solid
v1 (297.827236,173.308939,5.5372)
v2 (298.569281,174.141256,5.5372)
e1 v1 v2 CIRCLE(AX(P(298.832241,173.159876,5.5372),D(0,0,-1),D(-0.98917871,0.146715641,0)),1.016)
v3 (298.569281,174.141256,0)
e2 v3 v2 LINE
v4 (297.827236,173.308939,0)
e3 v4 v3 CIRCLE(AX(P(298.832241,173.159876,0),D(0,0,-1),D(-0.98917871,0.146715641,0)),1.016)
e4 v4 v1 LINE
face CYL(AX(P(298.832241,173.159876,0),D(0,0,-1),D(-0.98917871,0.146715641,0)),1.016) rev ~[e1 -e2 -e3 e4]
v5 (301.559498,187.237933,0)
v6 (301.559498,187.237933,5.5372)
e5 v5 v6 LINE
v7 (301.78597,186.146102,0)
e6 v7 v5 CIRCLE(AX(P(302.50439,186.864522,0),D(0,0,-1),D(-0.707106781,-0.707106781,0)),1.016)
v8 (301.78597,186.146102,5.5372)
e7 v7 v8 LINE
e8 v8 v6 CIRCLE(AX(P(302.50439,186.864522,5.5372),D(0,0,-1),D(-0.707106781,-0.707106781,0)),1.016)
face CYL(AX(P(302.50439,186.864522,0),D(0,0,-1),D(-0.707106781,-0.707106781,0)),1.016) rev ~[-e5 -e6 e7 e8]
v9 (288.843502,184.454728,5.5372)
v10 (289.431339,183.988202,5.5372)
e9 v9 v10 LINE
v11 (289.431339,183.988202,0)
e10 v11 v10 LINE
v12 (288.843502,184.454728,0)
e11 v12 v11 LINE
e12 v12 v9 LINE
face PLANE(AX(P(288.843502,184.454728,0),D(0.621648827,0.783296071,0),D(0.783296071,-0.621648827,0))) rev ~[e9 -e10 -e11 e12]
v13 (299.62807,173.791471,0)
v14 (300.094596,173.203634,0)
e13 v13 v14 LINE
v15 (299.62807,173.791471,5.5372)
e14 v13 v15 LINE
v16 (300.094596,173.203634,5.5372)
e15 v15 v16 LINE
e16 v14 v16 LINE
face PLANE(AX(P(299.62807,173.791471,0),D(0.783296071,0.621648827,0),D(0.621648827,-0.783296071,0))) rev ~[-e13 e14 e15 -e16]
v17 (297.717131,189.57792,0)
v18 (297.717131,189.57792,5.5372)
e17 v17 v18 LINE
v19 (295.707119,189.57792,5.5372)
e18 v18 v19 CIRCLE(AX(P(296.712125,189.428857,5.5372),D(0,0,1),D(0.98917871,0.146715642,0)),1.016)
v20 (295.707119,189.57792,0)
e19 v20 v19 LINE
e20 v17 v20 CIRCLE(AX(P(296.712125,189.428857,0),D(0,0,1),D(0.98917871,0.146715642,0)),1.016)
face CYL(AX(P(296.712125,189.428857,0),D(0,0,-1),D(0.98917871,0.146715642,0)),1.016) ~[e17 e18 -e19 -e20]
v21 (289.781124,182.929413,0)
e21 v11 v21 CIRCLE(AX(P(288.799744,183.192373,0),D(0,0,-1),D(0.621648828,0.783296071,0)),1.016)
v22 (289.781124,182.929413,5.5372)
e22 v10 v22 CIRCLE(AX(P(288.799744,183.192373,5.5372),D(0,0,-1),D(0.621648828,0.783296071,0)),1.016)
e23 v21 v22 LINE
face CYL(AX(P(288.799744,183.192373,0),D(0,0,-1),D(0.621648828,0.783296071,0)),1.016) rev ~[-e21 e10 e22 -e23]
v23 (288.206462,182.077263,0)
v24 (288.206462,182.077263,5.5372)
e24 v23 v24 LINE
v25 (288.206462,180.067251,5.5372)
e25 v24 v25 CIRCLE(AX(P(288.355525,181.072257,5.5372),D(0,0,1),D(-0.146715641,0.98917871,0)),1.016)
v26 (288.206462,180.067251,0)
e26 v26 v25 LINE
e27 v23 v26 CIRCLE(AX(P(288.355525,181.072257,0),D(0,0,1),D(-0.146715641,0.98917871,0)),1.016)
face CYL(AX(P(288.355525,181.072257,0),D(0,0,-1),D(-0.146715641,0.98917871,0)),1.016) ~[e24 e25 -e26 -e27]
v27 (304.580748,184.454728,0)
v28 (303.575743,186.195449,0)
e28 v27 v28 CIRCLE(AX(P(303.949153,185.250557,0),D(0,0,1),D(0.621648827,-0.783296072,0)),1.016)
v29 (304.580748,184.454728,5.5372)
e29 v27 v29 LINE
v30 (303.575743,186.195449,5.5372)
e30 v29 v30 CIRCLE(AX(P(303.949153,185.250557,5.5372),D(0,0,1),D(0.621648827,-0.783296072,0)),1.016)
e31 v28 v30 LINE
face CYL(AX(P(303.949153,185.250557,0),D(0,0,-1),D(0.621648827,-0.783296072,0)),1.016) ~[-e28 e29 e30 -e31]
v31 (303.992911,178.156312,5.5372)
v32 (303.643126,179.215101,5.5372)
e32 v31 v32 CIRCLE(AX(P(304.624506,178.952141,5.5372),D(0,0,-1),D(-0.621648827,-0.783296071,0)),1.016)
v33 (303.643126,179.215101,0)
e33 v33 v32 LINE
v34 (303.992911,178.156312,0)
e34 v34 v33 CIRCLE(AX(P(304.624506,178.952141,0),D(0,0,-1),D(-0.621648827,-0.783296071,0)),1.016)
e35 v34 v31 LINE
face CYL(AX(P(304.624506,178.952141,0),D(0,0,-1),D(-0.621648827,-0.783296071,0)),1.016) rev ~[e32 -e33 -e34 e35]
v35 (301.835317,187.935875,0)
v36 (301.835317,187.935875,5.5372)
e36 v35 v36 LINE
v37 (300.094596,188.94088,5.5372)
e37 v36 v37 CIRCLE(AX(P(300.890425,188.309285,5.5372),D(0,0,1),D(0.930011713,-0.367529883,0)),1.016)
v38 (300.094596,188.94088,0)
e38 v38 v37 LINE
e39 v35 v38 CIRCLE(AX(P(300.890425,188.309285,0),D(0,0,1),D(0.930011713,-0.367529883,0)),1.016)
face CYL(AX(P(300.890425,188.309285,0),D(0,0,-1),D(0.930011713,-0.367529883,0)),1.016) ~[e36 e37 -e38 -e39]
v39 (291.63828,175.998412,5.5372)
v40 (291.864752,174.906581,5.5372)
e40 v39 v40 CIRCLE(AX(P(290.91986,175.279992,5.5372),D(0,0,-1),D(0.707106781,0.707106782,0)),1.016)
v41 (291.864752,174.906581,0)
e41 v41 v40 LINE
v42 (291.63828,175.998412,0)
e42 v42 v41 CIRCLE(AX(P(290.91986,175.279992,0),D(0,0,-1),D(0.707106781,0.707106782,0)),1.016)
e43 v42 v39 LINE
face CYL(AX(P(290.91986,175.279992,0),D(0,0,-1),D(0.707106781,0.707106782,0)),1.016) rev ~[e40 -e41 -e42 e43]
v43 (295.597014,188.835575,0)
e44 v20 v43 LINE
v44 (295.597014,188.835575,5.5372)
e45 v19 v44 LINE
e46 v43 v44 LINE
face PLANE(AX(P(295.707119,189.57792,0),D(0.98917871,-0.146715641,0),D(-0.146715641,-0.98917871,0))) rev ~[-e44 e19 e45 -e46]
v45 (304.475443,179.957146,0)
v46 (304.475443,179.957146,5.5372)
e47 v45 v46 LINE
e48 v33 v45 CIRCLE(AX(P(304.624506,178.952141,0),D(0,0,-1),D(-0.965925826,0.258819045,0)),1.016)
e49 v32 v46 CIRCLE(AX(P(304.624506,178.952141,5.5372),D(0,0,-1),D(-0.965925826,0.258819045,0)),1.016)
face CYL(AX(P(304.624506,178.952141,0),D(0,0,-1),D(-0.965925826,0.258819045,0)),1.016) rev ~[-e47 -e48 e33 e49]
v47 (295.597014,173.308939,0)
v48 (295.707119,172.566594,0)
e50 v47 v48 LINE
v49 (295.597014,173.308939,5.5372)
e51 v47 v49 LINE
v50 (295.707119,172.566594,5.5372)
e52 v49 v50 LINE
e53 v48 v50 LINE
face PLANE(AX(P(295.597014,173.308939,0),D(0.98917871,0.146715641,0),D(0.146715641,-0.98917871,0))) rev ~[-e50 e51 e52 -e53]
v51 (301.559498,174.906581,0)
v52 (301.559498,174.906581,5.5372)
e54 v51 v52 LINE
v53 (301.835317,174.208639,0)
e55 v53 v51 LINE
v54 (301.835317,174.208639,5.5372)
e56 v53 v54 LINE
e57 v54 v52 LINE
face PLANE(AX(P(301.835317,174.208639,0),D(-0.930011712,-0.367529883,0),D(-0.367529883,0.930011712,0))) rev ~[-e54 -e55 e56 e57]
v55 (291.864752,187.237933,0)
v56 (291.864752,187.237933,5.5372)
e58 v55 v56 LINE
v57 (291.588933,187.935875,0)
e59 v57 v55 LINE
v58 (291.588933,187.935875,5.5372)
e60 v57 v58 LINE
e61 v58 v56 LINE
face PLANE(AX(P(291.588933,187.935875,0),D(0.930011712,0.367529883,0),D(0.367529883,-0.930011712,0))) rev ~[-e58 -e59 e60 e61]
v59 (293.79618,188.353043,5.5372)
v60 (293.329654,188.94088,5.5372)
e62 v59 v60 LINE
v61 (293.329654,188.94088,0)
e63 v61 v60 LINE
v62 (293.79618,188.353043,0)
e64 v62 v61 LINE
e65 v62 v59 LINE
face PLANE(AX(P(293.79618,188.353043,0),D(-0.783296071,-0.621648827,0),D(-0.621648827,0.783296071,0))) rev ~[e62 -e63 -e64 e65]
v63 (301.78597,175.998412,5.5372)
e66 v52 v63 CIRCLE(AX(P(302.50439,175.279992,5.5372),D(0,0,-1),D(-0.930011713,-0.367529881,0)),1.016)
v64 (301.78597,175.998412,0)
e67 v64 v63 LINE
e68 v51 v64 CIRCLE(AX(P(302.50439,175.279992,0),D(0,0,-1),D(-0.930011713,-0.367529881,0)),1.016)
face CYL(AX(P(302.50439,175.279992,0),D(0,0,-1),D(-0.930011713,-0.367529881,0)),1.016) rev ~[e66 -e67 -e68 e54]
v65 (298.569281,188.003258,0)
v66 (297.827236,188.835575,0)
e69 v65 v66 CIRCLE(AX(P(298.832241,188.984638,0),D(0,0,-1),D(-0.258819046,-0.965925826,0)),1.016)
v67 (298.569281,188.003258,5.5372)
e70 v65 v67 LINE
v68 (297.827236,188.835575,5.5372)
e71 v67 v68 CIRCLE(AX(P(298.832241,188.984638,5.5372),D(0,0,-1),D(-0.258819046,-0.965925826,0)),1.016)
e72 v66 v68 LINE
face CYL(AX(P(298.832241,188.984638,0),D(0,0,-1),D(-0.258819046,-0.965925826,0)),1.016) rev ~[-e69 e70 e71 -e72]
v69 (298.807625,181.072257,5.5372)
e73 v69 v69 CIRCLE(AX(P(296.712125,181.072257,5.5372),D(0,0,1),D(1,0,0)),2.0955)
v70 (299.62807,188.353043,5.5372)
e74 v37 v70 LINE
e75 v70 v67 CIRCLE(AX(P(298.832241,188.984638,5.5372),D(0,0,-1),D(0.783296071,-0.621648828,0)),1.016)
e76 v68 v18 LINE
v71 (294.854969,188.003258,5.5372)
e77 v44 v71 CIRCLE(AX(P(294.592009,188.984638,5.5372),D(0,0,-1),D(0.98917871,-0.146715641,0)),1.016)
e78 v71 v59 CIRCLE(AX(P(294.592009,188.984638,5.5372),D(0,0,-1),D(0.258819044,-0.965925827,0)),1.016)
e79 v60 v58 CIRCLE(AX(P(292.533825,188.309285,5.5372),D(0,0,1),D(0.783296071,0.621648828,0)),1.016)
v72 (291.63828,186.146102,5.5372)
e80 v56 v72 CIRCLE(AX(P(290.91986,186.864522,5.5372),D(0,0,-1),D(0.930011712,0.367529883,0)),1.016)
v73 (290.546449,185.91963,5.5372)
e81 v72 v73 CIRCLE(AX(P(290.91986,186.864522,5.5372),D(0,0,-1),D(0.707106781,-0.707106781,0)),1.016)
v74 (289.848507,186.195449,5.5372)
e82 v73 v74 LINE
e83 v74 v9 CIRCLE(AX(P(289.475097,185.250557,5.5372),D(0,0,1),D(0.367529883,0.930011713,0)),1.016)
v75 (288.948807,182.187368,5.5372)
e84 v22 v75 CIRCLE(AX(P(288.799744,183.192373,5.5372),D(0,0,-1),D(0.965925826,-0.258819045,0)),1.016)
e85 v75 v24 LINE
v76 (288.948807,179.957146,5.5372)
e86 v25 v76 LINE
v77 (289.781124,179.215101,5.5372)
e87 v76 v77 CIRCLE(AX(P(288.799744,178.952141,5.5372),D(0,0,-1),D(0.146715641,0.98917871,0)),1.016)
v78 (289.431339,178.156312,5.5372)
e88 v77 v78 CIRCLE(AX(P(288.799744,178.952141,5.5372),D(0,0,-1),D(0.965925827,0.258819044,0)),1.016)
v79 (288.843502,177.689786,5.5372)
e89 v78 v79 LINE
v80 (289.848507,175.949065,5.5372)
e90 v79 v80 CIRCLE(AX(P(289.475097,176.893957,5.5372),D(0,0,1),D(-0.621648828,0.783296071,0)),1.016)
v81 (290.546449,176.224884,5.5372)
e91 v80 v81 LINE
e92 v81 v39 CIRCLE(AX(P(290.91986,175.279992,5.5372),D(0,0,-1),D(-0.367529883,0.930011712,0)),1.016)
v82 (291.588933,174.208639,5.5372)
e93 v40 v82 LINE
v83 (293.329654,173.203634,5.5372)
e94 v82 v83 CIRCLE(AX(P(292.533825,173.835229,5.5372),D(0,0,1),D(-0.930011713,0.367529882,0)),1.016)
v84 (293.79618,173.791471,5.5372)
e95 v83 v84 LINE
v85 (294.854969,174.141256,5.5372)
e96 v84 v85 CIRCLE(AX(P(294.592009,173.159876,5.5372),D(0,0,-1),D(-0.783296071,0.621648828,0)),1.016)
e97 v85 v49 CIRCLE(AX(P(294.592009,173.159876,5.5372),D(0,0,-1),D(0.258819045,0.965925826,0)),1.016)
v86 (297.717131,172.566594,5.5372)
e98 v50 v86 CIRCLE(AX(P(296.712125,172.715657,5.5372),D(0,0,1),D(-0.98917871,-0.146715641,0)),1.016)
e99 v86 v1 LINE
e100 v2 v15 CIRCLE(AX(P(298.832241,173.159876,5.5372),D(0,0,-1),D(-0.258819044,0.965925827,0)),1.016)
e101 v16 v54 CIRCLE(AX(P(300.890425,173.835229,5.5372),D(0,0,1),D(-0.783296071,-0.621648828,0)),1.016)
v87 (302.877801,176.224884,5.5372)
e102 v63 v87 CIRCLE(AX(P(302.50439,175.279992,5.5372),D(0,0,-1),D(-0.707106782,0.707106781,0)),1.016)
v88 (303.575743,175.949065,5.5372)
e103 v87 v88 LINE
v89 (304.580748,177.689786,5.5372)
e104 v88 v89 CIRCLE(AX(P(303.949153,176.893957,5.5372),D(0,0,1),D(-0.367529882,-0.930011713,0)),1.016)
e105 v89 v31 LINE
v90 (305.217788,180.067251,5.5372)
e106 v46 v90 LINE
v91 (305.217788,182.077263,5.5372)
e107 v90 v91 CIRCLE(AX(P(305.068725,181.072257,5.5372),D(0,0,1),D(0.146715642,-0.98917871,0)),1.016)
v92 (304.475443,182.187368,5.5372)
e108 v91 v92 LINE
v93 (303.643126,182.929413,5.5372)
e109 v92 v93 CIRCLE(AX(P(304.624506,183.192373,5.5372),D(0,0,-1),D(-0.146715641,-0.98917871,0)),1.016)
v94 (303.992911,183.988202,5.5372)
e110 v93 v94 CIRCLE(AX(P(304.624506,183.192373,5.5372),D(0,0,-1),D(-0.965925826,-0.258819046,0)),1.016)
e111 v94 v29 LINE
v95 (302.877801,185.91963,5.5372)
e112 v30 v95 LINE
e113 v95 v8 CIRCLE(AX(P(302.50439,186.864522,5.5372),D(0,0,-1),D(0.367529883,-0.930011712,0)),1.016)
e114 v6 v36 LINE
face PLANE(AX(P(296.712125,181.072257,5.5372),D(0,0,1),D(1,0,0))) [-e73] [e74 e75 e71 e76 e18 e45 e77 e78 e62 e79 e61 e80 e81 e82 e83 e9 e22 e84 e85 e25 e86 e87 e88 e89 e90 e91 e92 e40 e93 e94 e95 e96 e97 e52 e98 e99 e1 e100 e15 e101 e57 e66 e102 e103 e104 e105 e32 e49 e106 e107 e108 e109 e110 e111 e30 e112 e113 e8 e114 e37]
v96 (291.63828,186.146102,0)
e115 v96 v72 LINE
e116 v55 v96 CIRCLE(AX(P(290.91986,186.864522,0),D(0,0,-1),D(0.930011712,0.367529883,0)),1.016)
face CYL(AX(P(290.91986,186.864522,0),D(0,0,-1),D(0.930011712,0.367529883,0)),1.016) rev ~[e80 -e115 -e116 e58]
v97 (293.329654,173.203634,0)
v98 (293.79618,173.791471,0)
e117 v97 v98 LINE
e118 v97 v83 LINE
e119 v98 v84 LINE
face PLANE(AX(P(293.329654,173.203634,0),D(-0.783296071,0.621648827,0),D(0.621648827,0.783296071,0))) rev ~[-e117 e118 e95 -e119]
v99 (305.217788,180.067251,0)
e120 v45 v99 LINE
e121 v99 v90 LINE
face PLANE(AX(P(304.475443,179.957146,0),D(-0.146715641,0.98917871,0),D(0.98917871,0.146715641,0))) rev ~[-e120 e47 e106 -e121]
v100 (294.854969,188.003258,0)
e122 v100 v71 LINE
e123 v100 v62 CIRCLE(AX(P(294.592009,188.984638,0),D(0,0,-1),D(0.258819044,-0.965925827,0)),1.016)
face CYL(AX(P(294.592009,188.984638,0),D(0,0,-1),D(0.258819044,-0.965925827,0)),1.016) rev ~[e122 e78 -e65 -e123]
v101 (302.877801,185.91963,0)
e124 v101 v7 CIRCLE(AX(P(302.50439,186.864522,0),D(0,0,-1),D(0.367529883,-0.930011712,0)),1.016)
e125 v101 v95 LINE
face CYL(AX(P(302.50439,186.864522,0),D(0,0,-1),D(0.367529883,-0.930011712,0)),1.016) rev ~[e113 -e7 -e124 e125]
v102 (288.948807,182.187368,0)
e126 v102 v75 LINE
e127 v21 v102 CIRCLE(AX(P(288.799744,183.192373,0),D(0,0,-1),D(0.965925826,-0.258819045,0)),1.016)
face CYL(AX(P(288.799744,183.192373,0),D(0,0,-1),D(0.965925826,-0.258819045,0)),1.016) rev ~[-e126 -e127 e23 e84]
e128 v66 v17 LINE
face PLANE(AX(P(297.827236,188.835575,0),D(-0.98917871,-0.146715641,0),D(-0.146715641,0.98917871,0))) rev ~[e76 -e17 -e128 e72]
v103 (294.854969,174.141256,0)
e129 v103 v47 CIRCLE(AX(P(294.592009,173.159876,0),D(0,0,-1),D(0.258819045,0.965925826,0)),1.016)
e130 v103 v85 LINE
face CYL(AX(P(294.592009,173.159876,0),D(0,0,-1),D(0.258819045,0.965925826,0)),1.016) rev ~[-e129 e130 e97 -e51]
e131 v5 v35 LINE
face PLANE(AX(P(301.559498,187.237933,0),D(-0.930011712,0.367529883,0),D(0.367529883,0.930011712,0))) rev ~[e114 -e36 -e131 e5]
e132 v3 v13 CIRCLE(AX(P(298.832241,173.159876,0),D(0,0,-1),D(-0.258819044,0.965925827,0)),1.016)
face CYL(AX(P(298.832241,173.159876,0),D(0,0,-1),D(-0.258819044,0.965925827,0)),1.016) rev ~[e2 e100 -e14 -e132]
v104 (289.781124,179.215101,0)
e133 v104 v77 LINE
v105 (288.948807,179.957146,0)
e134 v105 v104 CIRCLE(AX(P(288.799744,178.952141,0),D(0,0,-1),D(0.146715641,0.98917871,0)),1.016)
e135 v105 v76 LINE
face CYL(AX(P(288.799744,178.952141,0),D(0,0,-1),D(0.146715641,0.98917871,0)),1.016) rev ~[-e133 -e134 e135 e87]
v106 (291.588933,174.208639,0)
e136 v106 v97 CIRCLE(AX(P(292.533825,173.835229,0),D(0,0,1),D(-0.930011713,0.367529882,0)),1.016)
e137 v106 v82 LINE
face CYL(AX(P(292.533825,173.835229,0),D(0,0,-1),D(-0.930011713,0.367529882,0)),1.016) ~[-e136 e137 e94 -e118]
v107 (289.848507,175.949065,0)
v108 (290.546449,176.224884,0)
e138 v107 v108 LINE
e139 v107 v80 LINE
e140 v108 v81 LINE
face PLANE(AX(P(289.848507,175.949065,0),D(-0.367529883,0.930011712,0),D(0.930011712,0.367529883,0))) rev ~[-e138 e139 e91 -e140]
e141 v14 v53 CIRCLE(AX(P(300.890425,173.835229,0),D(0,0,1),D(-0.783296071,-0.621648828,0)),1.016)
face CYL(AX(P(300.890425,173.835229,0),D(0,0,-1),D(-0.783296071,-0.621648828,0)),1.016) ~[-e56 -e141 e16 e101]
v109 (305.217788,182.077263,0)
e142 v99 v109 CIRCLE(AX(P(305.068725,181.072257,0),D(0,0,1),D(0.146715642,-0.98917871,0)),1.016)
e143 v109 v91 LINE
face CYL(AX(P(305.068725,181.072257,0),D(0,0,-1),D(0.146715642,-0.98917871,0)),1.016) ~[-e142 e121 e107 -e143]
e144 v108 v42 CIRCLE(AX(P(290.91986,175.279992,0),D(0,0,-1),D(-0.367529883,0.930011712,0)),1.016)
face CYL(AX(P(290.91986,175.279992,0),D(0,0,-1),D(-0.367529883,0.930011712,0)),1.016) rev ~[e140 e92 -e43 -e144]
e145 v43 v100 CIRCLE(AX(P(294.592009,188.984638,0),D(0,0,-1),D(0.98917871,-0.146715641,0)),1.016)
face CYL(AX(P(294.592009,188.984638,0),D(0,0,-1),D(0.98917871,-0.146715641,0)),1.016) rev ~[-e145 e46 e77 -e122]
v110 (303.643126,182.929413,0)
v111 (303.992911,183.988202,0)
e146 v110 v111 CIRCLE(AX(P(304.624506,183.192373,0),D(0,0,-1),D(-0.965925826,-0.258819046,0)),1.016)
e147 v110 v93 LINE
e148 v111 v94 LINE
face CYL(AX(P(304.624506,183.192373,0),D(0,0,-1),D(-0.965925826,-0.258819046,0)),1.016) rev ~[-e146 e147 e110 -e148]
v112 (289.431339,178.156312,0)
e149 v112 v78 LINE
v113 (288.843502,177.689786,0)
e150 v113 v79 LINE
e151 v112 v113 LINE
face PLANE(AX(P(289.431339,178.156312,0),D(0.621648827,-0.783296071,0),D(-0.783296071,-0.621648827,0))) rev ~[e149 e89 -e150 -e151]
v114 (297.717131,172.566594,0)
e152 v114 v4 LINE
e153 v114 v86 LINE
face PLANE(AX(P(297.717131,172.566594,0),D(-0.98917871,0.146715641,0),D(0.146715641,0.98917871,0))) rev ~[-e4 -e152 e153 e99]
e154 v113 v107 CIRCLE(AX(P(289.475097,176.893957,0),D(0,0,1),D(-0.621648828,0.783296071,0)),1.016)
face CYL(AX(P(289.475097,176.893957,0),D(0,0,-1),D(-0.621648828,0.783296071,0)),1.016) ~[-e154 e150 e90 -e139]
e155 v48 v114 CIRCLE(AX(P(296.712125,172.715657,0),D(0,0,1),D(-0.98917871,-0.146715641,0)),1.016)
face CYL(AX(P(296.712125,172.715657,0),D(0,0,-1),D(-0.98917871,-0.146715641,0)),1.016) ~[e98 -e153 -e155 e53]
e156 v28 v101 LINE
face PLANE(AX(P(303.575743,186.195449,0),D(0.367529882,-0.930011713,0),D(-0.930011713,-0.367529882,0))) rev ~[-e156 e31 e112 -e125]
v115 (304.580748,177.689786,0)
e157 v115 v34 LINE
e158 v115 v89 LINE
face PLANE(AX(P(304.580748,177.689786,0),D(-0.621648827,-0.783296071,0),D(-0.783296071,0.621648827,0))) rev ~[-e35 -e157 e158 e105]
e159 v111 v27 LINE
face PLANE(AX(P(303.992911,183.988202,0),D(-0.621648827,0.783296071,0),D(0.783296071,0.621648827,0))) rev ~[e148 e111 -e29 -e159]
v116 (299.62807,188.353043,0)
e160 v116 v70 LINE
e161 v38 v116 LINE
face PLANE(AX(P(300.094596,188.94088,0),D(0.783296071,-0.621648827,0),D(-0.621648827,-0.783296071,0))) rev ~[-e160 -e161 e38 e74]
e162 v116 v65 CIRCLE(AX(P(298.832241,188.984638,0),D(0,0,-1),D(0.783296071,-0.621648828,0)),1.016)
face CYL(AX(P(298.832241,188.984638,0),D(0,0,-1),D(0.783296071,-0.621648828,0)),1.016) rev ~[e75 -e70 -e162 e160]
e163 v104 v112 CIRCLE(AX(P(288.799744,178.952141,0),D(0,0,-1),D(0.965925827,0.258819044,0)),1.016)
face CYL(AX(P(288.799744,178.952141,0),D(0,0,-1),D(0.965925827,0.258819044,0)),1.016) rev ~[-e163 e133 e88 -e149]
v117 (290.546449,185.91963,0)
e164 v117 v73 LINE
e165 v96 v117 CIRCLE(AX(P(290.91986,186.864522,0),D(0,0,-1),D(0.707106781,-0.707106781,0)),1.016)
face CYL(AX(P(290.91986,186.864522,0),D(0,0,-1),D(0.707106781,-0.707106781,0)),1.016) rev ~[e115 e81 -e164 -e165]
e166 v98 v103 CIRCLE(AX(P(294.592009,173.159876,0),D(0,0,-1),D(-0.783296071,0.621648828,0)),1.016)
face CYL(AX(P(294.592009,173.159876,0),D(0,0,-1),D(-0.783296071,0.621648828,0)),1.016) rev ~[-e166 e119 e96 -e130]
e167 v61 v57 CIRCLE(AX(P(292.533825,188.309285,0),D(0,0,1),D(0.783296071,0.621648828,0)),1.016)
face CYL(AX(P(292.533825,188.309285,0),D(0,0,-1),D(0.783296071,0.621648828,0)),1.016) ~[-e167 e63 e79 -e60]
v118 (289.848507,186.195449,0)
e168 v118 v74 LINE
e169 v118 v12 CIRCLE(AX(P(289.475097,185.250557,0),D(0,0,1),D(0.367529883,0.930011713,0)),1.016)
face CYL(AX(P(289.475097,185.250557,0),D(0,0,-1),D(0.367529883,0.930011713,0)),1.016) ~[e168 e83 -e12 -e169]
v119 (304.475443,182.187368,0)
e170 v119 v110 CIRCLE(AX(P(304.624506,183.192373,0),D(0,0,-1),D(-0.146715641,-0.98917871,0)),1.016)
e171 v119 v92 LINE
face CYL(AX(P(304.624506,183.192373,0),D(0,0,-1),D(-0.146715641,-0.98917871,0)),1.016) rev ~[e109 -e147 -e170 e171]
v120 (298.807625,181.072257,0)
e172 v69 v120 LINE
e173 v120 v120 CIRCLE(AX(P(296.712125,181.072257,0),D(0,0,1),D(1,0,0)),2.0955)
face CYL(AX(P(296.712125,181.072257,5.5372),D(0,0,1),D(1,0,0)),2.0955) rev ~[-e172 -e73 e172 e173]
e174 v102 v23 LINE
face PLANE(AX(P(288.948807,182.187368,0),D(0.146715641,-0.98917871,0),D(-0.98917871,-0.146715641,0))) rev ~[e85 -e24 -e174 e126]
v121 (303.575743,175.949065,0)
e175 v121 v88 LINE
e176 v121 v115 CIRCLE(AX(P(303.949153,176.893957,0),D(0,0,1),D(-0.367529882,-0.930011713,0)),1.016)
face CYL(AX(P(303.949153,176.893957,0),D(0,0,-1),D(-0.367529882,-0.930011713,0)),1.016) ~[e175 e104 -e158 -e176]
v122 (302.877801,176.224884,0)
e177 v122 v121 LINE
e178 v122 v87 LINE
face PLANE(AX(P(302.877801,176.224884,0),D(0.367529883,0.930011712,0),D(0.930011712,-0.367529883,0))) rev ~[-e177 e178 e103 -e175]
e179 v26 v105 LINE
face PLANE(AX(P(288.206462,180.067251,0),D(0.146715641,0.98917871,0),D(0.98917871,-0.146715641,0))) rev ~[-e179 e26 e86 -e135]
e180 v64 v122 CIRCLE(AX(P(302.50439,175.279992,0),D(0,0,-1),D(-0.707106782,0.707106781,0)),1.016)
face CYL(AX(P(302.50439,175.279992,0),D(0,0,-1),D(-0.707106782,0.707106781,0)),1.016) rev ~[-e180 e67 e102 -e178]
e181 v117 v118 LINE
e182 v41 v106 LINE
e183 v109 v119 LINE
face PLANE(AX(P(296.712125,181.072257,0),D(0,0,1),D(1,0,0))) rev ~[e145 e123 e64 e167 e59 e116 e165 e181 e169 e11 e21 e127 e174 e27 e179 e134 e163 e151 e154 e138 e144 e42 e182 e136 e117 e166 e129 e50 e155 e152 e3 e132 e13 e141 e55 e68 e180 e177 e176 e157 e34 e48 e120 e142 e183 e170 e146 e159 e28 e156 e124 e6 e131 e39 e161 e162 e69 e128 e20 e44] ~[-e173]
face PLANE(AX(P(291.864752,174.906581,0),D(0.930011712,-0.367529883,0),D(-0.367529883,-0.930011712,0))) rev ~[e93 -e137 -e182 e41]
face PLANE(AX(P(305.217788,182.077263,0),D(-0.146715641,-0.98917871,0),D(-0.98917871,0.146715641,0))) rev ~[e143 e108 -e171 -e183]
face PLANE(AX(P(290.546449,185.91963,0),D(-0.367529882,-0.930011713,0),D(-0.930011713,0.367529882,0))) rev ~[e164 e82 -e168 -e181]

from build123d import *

# Parameters (mm, degrees)
BOSS_EXTRUDE1_DEPTH = 5.5372
SKETCH3_R           = 2.0955
CUT_EXTRUDE1_DEPTH  = 361.538157474


with BuildPart() as part:
    # Sketch2 → Boss-Extrude1 (new body)
    with BuildSketch(Plane.XY):
        with BuildLine():
            Line((300.094596165, 188.940880076), (299.62806999, 188.353043175))
            ThreePointArc((299.62806999, 188.353043175), (299.150949063, 188.019920142), (298.569281031, 188.003257744))
            ThreePointArc((298.569281031, 188.003257744), (298.073872939, 188.308521819), (297.827235612, 188.835575292))
            Line((297.827235612, 188.835575292), (297.717130543, 189.577920069))
            ThreePointArc((297.717130543, 189.577920069), (296.712124973, 190.444856977), (295.707119404, 189.577920069))
            Line((295.707119404, 189.577920069), (295.597014335, 188.835575292))
            ThreePointArc((295.597014335, 188.835575292), (295.350377008, 188.308521819), (294.854968915, 188.003257744))
            ThreePointArc((294.854968915, 188.003257744), (294.273300884, 188.019920142), (293.796179957, 188.353043175))
            Line((293.796179957, 188.353043175), (293.329653782, 188.940880076))
            ThreePointArc((293.329653782, 188.940880076), (292.025824973, 189.189166677), (291.588933073, 187.935874506))
            Line((291.588933073, 187.935874506), (291.864751675, 187.237932536))
            ThreePointArc((291.864751675, 187.237932536), (291.914684221, 186.658172176), (291.638280265, 186.146101686))
            ThreePointArc((291.638280265, 186.146101686), (291.126209774, 185.86969773), (290.546449415, 185.919630276))
            Line((290.546449415, 185.919630276), (289.848507445, 186.195448877))
            ThreePointArc((289.848507445, 186.195448877), (288.595215274, 185.758556977), (288.843501875, 184.454728169))
            Line((288.843501875, 184.454728169), (289.431338776, 183.988201994))
            ThreePointArc((289.431338776, 183.988201994), (289.764461809, 183.511081067), (289.781124207, 182.929413036))
            ThreePointArc((289.781124207, 182.929413036), (289.475860132, 182.434004943), (288.948806659, 182.187367616))
            Line((288.948806659, 182.187367616), (288.206461882, 182.077262547))
            ThreePointArc((288.206461882, 182.077262547), (287.339524973, 181.072256977), (288.206461882, 180.067251408))
            Line((288.206461882, 180.067251408), (288.948806659, 179.957146339))
            ThreePointArc((288.948806659, 179.957146339), (289.475860132, 179.710509012), (289.781124207, 179.215100919))
            ThreePointArc((289.781124207, 179.215100919), (289.764461809, 178.633432888), (289.431338776, 178.156311961))
            Line((289.431338776, 178.156311961), (288.843501875, 177.689785786))
            ThreePointArc((288.843501875, 177.689785786), (288.595215274, 176.385956977), (289.848507445, 175.949065077))
            Line((289.848507445, 175.949065077), (290.546449415, 176.224883679))
            ThreePointArc((290.546449415, 176.224883679), (291.126209774, 176.274816225), (291.638280265, 175.998412269))
            ThreePointArc((291.638280265, 175.998412269), (291.914684221, 175.486341779), (291.864751675, 174.906581419))
            Line((291.864751675, 174.906581419), (291.588933073, 174.208639449))
            ThreePointArc((291.588933073, 174.208639449), (292.025824973, 172.955347278), (293.329653782, 173.203633879))
            Line((293.329653782, 173.203633879), (293.796179957, 173.79147078))
            ThreePointArc((293.796179957, 173.79147078), (294.273300884, 174.124593813), (294.854968915, 174.141256211))
            ThreePointArc((294.854968915, 174.141256211), (295.350377008, 173.835992136), (295.597014335, 173.308938663))
            Line((295.597014335, 173.308938663), (295.707119404, 172.566593886))
            ThreePointArc((295.707119404, 172.566593886), (296.712124973, 171.699656977), (297.717130543, 172.566593886))
            Line((297.717130543, 172.566593886), (297.827235612, 173.308938663))
            ThreePointArc((297.827235612, 173.308938663), (298.073872939, 173.835992136), (298.569281031, 174.141256211))
            ThreePointArc((298.569281031, 174.141256211), (299.150949063, 174.124593813), (299.62806999, 173.79147078))
            Line((299.62806999, 173.79147078), (300.094596165, 173.203633879))
            ThreePointArc((300.094596165, 173.203633879), (301.398424973, 172.955347278), (301.835316873, 174.208639449))
            Line((301.835316873, 174.208639449), (301.559498271, 174.906581419))
            ThreePointArc((301.559498271, 174.906581419), (301.509565726, 175.486341779), (301.785969682, 175.998412269))
            ThreePointArc((301.785969682, 175.998412269), (302.298040172, 176.274816225), (302.877800532, 176.224883679))
            Line((302.877800532, 176.224883679), (303.575742502, 175.949065077))
            ThreePointArc((303.575742502, 175.949065077), (304.829034673, 176.385956977), (304.580748071, 177.689785786))
            Line((304.580748071, 177.689785786), (303.99291117, 178.156311961))
            ThreePointArc((303.99291117, 178.156311961), (303.659788137, 178.633432888), (303.64312574, 179.215100919))
            ThreePointArc((303.64312574, 179.215100919), (303.948389815, 179.710509012), (304.475443288, 179.957146339))
            Line((304.475443288, 179.957146339), (305.217788065, 180.067251408))
            ThreePointArc((305.217788065, 180.067251408), (306.084724973, 181.072256977), (305.217788065, 182.077262547))
            Line((305.217788065, 182.077262547), (304.475443288, 182.187367616))
            ThreePointArc((304.475443288, 182.187367616), (303.948389815, 182.434004943), (303.64312574, 182.929413036))
            ThreePointArc((303.64312574, 182.929413036), (303.659788137, 183.511081067), (303.99291117, 183.988201994))
            Line((303.99291117, 183.988201994), (304.580748071, 184.454728169))
            ThreePointArc((304.580748071, 184.454728169), (304.829034673, 185.758556977), (303.575742502, 186.195448877))
            Line((303.575742502, 186.195448877), (302.877800532, 185.919630276))
            ThreePointArc((302.877800532, 185.919630276), (302.298040172, 185.86969773), (301.785969682, 186.146101686))
            ThreePointArc((301.785969682, 186.146101686), (301.509565726, 186.658172176), (301.559498271, 187.237932536))
            Line((301.559498271, 187.237932536), (301.835316873, 187.935874506))
            ThreePointArc((301.835316873, 187.935874506), (301.398424973, 189.189166677), (300.094596165, 188.940880076))
        make_face()
    extrude(amount=BOSS_EXTRUDE1_DEPTH)

    # Sketch3 → Cut-Extrude1 (cut, through all)
    with BuildSketch(Plane.XY.offset(5.5372)):
        with Locations((296.712124973, 181.072256977)):
            Circle(SKETCH3_R)
    extrude(amount=-CUT_EXTRUDE1_DEPTH, mode=Mode.SUBTRACT)


solid = part.part
